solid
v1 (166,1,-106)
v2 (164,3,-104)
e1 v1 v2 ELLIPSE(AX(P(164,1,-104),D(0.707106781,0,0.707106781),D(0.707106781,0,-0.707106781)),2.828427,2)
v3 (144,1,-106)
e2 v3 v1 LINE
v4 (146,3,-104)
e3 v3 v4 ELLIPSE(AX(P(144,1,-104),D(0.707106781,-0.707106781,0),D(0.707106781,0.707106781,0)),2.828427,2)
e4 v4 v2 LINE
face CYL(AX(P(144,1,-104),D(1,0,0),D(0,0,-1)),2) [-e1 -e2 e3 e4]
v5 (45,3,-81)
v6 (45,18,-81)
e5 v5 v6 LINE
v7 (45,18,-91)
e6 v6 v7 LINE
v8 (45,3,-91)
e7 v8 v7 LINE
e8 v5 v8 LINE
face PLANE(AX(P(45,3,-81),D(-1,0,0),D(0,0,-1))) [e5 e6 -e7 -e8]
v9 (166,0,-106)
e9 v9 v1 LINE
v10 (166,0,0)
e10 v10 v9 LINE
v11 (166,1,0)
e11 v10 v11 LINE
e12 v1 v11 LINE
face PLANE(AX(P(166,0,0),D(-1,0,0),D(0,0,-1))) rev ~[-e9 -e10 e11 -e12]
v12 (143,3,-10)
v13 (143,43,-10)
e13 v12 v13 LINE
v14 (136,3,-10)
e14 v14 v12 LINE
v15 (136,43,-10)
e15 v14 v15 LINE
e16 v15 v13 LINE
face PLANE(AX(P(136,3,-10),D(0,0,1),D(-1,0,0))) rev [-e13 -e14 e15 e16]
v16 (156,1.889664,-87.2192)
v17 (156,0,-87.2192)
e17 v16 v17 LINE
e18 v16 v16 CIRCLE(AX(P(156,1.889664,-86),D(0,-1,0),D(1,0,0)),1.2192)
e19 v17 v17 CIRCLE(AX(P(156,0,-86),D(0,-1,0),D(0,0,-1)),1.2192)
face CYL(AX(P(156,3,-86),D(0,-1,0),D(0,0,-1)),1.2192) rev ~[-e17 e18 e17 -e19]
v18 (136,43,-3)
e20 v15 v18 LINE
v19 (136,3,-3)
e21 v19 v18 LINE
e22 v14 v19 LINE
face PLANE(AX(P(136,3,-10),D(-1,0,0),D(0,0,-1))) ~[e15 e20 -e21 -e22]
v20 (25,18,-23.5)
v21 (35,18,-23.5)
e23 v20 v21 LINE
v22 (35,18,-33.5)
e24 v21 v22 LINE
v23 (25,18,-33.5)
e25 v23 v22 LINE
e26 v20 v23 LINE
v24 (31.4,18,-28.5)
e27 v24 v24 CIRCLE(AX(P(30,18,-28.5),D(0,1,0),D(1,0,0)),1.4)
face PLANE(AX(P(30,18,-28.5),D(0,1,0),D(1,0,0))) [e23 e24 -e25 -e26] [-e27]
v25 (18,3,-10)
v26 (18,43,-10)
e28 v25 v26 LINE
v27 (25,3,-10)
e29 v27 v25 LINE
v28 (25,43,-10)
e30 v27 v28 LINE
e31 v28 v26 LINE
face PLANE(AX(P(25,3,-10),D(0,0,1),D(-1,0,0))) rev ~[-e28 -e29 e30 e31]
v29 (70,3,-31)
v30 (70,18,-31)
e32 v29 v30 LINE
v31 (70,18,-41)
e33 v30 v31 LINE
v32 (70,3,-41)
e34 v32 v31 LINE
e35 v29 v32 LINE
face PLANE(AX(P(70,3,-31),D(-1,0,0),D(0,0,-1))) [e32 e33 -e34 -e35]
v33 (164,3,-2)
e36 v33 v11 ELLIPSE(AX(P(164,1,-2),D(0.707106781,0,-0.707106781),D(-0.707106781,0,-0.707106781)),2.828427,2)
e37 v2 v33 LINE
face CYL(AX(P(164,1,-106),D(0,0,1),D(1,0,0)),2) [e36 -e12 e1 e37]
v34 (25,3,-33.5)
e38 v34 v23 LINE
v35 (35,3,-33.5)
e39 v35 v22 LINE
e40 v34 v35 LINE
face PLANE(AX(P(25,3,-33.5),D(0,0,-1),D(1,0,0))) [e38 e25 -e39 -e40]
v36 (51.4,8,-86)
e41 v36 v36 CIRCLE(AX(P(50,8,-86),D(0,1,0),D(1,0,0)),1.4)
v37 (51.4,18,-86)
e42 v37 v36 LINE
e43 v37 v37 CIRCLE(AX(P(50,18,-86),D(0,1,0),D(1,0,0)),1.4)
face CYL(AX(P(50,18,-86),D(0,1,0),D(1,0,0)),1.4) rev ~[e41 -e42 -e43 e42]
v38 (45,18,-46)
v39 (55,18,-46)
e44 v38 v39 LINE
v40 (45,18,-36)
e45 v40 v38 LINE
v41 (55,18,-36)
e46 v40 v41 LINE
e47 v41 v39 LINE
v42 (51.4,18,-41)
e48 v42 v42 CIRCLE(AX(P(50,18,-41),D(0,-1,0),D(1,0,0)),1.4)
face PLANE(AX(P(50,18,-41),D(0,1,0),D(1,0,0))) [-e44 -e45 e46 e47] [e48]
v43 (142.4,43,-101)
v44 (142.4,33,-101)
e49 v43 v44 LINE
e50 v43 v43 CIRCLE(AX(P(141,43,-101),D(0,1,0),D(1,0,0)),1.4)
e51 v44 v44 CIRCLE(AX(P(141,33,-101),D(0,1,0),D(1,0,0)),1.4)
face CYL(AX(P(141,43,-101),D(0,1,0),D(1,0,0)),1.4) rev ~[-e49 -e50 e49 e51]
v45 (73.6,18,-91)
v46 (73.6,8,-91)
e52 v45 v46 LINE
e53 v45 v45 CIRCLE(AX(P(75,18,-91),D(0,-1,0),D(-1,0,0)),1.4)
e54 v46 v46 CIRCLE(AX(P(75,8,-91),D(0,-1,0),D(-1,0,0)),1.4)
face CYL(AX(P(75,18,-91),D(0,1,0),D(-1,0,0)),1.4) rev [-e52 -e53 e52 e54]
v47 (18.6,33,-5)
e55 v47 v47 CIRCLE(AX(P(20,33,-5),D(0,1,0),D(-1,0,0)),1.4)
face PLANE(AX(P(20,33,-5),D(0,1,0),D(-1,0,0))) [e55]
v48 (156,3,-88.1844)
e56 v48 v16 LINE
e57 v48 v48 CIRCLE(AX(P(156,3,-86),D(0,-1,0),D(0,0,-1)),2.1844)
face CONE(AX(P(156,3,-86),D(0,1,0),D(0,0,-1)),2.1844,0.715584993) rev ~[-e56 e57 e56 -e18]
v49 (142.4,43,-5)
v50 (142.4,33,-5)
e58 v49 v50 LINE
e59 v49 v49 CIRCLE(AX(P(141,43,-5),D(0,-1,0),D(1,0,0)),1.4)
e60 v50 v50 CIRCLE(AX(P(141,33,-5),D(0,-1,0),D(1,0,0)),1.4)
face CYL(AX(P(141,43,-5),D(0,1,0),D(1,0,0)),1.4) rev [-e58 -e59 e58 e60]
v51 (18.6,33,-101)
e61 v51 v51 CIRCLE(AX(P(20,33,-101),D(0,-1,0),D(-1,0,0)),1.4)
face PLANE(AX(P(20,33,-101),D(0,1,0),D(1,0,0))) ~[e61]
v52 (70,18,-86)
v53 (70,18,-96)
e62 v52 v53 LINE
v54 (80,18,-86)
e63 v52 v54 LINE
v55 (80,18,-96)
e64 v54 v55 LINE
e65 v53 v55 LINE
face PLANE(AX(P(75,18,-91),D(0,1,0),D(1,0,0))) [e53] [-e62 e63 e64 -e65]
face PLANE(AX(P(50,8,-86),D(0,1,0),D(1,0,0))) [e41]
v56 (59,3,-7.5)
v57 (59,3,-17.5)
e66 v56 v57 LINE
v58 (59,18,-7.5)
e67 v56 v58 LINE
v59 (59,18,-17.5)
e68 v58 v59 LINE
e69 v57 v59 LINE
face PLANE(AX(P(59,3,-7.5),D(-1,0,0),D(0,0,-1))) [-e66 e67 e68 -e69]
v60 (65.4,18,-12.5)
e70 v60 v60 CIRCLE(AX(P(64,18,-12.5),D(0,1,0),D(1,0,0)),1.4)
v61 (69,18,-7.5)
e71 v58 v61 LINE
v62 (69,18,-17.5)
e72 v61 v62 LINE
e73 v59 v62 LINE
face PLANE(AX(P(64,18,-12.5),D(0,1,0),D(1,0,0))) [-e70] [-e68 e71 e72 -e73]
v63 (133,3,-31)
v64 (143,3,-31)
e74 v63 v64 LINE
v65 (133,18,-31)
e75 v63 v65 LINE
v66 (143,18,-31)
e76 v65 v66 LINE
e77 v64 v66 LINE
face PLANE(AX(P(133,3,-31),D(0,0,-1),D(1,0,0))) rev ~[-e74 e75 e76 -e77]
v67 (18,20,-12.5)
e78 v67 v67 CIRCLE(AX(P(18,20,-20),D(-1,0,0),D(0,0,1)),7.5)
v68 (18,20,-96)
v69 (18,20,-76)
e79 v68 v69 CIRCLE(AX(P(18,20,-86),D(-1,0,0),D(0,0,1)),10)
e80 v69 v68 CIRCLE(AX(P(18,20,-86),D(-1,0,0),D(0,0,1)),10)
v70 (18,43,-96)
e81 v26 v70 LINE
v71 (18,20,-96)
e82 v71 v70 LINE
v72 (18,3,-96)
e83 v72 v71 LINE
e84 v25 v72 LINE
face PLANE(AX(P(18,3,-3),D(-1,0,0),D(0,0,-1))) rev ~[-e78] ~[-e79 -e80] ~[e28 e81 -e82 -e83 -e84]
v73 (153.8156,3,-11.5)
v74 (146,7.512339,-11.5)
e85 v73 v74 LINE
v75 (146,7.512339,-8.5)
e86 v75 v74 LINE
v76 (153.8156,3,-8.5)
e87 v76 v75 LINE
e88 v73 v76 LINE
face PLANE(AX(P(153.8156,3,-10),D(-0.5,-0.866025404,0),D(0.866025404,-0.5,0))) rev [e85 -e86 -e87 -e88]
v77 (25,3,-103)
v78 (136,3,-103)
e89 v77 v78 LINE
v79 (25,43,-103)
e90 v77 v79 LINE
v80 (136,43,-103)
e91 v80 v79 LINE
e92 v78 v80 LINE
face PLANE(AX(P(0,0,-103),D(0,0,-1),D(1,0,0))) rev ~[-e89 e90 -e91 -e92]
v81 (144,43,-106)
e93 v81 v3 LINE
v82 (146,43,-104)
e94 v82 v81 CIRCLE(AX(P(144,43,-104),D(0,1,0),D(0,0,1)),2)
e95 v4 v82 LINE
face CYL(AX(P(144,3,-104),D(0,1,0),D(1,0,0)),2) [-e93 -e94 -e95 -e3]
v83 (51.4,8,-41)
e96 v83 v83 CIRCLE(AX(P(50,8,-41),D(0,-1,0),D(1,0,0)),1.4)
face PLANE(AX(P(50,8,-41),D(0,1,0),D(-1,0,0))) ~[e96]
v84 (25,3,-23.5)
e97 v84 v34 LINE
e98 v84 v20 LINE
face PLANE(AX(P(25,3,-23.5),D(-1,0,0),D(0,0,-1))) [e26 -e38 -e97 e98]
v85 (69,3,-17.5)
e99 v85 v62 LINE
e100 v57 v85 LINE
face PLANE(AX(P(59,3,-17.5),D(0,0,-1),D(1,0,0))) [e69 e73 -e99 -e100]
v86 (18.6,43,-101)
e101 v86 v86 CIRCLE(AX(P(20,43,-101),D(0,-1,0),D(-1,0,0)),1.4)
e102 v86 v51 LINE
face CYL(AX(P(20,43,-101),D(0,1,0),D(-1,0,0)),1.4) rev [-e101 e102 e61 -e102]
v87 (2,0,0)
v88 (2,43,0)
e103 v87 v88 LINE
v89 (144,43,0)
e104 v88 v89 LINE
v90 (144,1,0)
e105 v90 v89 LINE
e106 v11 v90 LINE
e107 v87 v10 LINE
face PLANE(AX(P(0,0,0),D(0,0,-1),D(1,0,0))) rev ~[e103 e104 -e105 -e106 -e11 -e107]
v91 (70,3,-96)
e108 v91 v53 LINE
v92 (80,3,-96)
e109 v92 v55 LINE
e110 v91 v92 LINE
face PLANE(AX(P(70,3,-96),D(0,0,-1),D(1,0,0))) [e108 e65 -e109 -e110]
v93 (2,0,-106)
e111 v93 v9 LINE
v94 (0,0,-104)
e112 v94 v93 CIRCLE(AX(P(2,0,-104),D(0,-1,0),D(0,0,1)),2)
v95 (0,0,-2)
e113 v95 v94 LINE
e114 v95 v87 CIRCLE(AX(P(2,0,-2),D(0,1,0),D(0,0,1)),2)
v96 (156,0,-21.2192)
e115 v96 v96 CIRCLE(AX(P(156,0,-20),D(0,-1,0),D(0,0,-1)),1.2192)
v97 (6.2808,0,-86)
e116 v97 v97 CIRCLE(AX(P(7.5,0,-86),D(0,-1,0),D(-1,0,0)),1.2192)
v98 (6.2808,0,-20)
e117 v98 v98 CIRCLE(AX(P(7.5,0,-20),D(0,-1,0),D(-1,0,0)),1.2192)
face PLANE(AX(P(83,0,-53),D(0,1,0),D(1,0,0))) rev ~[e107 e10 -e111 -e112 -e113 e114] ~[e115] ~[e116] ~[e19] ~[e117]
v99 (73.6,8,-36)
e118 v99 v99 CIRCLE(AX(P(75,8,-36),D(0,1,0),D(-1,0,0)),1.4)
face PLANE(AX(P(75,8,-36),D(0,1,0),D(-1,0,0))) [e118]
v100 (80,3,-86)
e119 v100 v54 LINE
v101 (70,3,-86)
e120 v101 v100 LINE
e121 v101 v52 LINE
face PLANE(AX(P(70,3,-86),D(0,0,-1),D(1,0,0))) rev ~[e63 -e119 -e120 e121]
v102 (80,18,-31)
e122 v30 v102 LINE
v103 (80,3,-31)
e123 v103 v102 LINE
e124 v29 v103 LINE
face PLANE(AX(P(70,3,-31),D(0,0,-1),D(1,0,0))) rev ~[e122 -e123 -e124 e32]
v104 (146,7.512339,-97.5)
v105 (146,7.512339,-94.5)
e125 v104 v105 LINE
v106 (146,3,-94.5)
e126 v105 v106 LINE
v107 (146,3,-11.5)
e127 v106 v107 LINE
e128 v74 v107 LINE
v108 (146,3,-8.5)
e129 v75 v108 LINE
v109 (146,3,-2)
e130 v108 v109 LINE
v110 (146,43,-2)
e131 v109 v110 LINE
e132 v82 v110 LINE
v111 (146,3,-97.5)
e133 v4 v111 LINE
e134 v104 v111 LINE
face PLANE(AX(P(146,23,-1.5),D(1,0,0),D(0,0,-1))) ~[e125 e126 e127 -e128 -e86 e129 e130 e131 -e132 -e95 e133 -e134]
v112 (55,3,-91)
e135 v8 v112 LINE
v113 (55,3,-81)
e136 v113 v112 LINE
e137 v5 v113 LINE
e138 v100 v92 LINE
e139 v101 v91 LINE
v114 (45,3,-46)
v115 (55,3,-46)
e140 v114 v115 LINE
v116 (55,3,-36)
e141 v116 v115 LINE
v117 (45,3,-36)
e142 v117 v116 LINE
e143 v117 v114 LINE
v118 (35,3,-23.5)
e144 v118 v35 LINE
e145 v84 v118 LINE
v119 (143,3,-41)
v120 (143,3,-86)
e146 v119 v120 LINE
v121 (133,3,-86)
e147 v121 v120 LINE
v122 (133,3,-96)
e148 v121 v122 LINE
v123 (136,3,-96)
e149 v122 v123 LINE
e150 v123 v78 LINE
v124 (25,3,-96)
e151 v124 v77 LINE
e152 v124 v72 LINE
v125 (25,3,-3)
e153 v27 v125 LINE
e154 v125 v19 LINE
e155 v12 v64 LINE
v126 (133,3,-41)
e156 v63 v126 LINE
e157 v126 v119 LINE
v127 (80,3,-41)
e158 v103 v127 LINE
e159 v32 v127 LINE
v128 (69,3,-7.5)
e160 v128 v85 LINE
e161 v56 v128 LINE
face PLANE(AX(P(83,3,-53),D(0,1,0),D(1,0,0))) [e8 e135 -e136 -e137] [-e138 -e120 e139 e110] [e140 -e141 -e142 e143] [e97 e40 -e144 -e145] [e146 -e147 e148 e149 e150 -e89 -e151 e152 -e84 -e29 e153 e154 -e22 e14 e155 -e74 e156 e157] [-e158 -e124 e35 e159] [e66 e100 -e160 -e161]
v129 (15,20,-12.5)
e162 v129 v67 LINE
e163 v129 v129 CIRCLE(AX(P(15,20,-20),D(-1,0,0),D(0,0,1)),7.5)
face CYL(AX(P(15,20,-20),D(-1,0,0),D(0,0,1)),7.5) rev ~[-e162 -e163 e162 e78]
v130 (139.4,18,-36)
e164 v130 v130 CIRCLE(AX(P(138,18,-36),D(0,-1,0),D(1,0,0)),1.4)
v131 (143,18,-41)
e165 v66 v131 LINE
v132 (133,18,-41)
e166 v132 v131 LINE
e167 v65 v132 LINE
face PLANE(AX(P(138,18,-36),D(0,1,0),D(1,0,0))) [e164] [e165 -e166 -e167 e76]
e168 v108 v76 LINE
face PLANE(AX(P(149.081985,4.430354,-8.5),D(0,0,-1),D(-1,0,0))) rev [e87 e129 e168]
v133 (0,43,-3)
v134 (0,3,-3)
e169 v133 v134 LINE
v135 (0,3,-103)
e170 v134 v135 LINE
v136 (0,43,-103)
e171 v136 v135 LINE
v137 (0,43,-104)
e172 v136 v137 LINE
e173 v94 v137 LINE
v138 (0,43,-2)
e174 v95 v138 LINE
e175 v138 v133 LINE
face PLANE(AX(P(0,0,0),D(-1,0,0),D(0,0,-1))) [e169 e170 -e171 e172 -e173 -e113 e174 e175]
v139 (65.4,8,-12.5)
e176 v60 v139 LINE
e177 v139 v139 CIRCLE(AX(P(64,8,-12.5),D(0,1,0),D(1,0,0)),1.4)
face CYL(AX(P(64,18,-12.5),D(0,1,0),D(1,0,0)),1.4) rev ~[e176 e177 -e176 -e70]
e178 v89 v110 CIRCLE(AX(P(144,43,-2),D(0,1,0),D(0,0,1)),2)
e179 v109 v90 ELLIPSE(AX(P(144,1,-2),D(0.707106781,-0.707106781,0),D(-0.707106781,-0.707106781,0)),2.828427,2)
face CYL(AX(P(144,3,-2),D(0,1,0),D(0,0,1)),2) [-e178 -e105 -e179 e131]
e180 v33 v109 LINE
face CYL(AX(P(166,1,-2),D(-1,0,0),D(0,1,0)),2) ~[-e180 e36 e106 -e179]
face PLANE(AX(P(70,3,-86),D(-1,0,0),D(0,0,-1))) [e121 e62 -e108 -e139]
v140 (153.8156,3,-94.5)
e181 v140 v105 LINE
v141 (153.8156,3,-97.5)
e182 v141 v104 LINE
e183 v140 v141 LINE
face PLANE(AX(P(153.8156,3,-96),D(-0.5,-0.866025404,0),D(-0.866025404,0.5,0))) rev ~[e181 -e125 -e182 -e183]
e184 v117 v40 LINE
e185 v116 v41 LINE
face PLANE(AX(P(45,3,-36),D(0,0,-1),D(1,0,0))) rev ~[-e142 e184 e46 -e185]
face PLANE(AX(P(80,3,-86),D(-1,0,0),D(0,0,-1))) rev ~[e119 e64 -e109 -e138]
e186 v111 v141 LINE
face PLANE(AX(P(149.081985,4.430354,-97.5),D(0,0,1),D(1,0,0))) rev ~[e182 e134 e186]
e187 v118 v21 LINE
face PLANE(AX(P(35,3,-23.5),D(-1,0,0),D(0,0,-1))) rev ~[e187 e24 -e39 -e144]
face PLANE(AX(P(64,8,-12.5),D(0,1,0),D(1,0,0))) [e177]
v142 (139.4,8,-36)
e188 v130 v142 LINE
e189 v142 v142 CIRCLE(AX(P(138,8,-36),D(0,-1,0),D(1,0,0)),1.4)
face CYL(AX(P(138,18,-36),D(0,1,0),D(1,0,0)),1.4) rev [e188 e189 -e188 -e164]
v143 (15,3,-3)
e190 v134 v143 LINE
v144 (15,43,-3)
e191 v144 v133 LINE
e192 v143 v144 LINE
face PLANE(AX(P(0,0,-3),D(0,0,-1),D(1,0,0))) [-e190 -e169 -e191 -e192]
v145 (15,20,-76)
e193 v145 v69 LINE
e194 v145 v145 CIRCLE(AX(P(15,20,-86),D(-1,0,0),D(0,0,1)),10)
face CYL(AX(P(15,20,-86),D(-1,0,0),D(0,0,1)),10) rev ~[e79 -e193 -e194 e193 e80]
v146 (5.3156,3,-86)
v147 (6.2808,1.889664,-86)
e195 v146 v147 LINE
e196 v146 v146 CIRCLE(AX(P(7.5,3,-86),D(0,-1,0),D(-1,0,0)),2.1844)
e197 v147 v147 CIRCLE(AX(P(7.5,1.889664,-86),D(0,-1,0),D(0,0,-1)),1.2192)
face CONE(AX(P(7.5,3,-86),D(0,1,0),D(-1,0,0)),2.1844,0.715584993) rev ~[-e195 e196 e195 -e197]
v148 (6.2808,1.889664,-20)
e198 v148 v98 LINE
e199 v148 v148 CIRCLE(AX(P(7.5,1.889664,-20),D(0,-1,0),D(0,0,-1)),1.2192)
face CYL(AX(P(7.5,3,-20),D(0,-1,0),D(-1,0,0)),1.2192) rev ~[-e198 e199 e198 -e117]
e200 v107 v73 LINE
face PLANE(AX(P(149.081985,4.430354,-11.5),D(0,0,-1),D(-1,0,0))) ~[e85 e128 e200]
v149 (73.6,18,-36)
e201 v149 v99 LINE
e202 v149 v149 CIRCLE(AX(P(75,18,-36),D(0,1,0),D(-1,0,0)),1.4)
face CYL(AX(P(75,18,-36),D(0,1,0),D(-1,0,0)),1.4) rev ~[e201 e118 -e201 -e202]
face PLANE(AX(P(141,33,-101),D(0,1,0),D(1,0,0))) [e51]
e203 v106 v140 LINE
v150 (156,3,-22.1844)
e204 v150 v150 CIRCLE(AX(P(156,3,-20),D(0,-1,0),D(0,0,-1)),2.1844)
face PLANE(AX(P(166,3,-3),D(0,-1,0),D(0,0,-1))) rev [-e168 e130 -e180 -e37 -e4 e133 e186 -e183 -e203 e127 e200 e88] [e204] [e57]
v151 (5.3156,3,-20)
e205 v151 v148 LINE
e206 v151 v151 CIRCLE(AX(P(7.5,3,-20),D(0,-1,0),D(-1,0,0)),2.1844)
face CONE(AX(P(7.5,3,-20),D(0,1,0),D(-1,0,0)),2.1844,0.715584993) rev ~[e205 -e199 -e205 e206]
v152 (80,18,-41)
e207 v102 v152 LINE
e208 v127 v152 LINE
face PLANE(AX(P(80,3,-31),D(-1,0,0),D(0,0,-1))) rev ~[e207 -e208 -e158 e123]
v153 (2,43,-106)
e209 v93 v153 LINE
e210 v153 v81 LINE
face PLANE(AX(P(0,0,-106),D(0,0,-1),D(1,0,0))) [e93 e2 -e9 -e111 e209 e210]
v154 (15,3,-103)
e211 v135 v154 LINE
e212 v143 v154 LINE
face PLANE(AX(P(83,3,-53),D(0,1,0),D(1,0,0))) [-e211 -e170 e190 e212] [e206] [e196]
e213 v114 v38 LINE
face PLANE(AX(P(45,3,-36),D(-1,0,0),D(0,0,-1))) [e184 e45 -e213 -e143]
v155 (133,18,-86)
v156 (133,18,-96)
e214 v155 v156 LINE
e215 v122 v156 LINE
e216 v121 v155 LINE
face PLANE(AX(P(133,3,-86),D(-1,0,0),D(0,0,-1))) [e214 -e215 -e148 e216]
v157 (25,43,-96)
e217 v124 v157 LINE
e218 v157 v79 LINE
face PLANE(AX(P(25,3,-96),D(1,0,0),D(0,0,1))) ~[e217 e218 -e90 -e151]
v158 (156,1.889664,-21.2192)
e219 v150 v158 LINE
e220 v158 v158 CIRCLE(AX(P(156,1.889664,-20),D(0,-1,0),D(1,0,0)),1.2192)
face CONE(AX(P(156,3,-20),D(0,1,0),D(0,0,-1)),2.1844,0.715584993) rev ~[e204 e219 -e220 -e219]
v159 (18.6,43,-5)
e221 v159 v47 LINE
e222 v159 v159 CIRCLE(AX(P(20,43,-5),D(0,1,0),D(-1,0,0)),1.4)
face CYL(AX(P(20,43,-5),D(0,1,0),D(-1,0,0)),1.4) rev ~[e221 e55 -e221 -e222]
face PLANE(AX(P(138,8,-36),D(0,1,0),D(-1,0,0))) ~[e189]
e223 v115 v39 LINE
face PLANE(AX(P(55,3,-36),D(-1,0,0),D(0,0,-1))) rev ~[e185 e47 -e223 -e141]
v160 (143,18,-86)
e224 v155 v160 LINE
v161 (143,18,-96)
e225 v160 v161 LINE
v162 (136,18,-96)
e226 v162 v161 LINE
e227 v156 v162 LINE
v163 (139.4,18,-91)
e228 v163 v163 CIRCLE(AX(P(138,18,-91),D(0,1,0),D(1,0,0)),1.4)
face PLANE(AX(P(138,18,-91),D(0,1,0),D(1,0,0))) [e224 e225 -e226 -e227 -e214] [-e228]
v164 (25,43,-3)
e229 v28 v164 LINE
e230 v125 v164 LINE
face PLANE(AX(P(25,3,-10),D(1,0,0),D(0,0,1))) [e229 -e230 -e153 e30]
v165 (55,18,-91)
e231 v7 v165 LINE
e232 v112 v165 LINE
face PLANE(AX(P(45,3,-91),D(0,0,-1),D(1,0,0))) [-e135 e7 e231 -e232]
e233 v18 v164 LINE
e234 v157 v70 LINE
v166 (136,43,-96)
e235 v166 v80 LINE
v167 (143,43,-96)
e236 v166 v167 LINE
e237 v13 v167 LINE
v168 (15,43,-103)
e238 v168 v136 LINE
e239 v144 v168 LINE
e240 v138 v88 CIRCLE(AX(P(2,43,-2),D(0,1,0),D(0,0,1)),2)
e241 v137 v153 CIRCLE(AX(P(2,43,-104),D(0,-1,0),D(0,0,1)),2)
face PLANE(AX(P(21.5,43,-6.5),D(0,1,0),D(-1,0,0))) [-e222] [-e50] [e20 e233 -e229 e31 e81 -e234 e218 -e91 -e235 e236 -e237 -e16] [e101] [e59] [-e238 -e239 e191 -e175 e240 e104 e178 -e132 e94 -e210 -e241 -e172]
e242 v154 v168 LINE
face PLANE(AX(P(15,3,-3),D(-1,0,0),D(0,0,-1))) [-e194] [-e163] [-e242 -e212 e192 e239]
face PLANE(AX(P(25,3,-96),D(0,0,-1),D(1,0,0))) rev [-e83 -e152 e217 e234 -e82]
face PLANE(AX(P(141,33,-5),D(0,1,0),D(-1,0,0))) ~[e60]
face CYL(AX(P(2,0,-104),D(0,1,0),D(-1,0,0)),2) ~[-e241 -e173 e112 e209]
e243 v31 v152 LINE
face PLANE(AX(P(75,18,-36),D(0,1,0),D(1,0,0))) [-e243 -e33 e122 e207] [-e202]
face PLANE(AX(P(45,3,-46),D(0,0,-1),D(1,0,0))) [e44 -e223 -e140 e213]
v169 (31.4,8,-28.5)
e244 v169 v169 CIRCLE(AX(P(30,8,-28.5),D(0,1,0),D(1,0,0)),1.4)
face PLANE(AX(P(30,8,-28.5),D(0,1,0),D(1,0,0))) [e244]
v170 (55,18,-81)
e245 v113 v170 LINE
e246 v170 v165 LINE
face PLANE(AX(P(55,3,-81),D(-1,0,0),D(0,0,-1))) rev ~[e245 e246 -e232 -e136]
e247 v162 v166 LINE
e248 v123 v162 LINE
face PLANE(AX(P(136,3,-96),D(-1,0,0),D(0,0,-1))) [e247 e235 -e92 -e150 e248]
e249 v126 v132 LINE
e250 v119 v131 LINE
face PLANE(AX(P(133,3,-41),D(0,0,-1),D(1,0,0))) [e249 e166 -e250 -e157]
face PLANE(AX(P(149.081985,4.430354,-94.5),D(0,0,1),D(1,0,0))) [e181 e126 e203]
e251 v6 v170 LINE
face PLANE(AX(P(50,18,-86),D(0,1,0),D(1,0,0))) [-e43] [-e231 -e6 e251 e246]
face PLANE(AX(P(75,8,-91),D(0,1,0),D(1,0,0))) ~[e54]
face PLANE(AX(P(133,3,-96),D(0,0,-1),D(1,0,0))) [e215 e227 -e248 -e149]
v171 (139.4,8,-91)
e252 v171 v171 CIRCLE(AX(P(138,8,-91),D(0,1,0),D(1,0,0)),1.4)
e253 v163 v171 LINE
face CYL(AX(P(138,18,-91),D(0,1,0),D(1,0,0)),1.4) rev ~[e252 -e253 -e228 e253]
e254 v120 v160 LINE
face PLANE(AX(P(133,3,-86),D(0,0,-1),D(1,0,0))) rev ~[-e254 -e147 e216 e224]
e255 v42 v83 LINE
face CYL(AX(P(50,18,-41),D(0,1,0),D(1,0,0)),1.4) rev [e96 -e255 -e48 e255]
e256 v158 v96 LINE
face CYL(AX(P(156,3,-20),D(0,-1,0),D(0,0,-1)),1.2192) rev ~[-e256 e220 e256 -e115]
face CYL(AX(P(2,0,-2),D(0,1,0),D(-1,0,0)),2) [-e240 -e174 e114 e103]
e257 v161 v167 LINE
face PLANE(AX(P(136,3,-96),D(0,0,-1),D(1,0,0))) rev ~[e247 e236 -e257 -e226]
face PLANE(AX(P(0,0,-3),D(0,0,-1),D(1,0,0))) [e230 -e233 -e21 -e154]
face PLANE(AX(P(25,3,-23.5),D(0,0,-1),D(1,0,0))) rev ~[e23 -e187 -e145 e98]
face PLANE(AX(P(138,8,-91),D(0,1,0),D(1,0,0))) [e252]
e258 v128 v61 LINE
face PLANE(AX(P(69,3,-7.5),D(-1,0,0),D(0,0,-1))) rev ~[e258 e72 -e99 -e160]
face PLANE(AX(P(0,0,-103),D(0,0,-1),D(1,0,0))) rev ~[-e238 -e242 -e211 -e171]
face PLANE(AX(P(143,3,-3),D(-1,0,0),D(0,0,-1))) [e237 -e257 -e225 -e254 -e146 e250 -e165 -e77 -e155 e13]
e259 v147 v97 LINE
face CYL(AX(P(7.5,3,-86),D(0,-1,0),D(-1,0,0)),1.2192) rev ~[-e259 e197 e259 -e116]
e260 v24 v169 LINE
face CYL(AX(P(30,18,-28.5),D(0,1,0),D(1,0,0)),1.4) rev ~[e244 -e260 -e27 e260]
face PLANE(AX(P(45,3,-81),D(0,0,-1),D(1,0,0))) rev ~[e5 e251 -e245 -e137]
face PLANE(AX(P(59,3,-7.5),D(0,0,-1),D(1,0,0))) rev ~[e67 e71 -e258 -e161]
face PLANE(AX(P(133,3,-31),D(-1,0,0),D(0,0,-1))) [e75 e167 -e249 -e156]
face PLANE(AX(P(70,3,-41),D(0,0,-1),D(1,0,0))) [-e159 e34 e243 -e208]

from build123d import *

# Parameters (mm, degrees)
SKETCH1_W                                      = 166
SKETCH1_H                                      = 106
BOSS_EXTRUDE1_DEPTH                            = 43
SHELL1_T                                       = -3
SKETCH2_W                                      = 3
SKETCH2_H                                      = 100
BOSS_EXTRUDE2_DEPTH                            = 40
SKETCH3_R                                      = 10
CUT_EXTRUDE1_DEPTH                             = 3
SKETCH4_R                                      = 7.5
CUT_EXTRUDE3_DEPTH                             = 3
SKETCH5_W                                      = 3
SKETCH5_H                                      = 100
BOSS_EXTRUDE4_DEPTH                            = 40
SKETCH6_W                                      = 3
SKETCH6_H                                      = 40
CUT_EXTRUDE4_DEPTH                             = 20
CSK_FOR_2_FLAT_HEAD_MACHINE_SCREW1_D           = 2.4384
CSK_FOR_2_FLAT_HEAD_MACHINE_SCREW1_CSINK_D     = 4.3688
CSK_FOR_2_FLAT_HEAD_MACHINE_SCREW1_CSINK_ANGLE = 82
CSK_FOR_2_FLAT_HEAD_MACHINE_SCREW2_D           = 2.4384
CSK_FOR_2_FLAT_HEAD_MACHINE_SCREW2_CSINK_D     = 4.3688
CSK_FOR_2_FLAT_HEAD_MACHINE_SCREW2_CSINK_ANGLE = 82
BOSS_EXTRUDE6_DEPTH                            = 1.5
SKETCH17_W                                     = 7
SKETCH17_H                                     = 7
BOSS_EXTRUDE7_DEPTH                            = 40
SKETCH20_W                                     = 10
SKETCH20_H                                     = 10
BOSS_EXTRUDE8_DEPTH                            = 15
SKETCH21_W                                     = 10
SKETCH21_H                                     = 10
BOSS_EXTRUDE9_DEPTH                            = 15
SKETCH22_W                                     = 10
SKETCH22_H                                     = 10
BOSS_EXTRUDE10_DEPTH                           = 15
SKETCH23_W                                     = 10
SKETCH23_H                                     = 10
BOSS_EXTRUDE11_DEPTH                           = 15
SKETCH24_W                                     = 10
SKETCH24_H                                     = 10
BOSS_EXTRUDE12_DEPTH                           = 15
SKETCH25_W                                     = 10
SKETCH25_H                                     = 10
BOSS_EXTRUDE13_DEPTH                           = 15
SKETCH26_W                                     = 10
SKETCH26_H                                     = 10
BOSS_EXTRUDE14_DEPTH                           = 15
SKETCH27_W                                     = 10
SKETCH27_H                                     = 10
BOSS_EXTRUDE15_DEPTH                           = 15
SKETCH28_R                                     = 1.4
CUT_EXTRUDE5_DEPTH                             = 10
MIRROR4_COPY_1_SKETCH_W                        = 7
MIRROR4_COPY_1_SKETCH_H                        = 7
MIRROR4_COPY_1_DEPTH                           = 40
MIRROR4_COPY_2_SKETCH_R                        = 1.4
MIRROR4_COPY_2_DEPTH                           = 10
FILLET2_R                                      = 2
FILLET3_R                                      = 2
SKETCH29_R                                     = 1.4
CUT_EXTRUDE6_DEPTH                             = 10
MIRROR6_COPY_1_SKETCH_R                        = 1.4
MIRROR6_COPY_1_DEPTH                           = 10
SKETCH30_R                                     = 1.4
CUT_EXTRUDE7_DEPTH                             = 10
SKETCH31_R                                     = 1.4
CUT_EXTRUDE8_DEPTH                             = 10
SKETCH32_R                                     = 1.4
CUT_EXTRUDE9_DEPTH                             = 10


with BuildPart() as part:
    # Sketch1 → Boss-Extrude1 (new body)
    with BuildSketch(Plane(origin=(0, 0, 0), x_dir=(1, 0, 0), z_dir=(0, 1, 0))):
        with Locations((83, 53)):
            Rectangle(SKETCH1_W, SKETCH1_H)
    extrude(amount=BOSS_EXTRUDE1_DEPTH)

    # Shell1
    shell1_openings = [part.faces().sort_by_distance(p)[0] for p in [
        (83, 43, -53),
        (166, 21.5, -53),
        (0, 21.5, -53),
    ]]
    offset(amount=SHELL1_T, openings=shell1_openings, kind=Kind.INTERSECTION)

    # Sketch2 → Boss-Extrude2 (add)
    with BuildSketch(Plane(origin=(0, 3, 0), x_dir=(1, 0, 0), z_dir=(0, 1, 0))):
        with Locations((16.5, 53)):
            Rectangle(SKETCH2_W, SKETCH2_H)
    extrude(amount=BOSS_EXTRUDE2_DEPTH)

    # Sketch3 → Cut-Extrude1 (cut)
    with BuildSketch(Plane.ZY.offset(-15)):
        with Locations((-86, 20)):
            Circle(SKETCH3_R)
    extrude(amount=-CUT_EXTRUDE1_DEPTH, mode=Mode.SUBTRACT)

    # Sketch4 → Cut-Extrude3 (cut)
    with BuildSketch(Plane.ZY.offset(-15)):
        with Locations((-20, 20)):
            Circle(SKETCH4_R)
    extrude(amount=-CUT_EXTRUDE3_DEPTH, mode=Mode.SUBTRACT)

    # Sketch5 → Boss-Extrude4 (add)
    with BuildSketch(Plane(origin=(0, 3, 0), x_dir=(1, 0, 0), z_dir=(0, 1, 0))):
        with Locations((144.5, 53)):
            Rectangle(SKETCH5_W, SKETCH5_H)
    extrude(amount=BOSS_EXTRUDE4_DEPTH)

    # Sketch6 → Cut-Extrude4 (cut)
    with BuildSketch(Plane(origin=(166, 0, 0), x_dir=(0, 0, -1), z_dir=(1, 0, 0))):
        with Locations((104.5, 23)):
            Rectangle(SKETCH6_W, SKETCH6_H)
    cut_extrude4 = extrude(amount=-CUT_EXTRUDE4_DEPTH, mode=Mode.SUBTRACT)

    # Mirror1: Cut-Extrude4 across plane
    add(cut_extrude4.mirror(Plane(origin=(0, 0, -53), x_dir=(1, 0, 0), z_dir=(0, 0, -1))), mode=Mode.SUBTRACT)

    # CSK for #2 Flat Head Machine Screw1 (through all)
    with Locations(Plane(origin=(156, 3, -86), x_dir=(0, 0, 1), z_dir=(0, 1, 0))):
        with Locations((0, 0), (66, 0)):
            CounterSinkHole(CSK_FOR_2_FLAT_HEAD_MACHINE_SCREW1_D / 2, CSK_FOR_2_FLAT_HEAD_MACHINE_SCREW1_CSINK_D / 2, counter_sink_angle=CSK_FOR_2_FLAT_HEAD_MACHINE_SCREW1_CSINK_ANGLE)

    # CSK for #2 Flat Head Machine Screw2 (through all)
    with Locations(Plane(origin=(0, 3, 0), x_dir=(1, 0, 0), z_dir=(0, 1, 0))):
        with Locations((7.5, 20), (7.5, 86)):
            CounterSinkHole(CSK_FOR_2_FLAT_HEAD_MACHINE_SCREW2_D / 2, CSK_FOR_2_FLAT_HEAD_MACHINE_SCREW2_CSINK_D / 2, counter_sink_angle=CSK_FOR_2_FLAT_HEAD_MACHINE_SCREW2_CSINK_ANGLE)

    # Sketch16 → Boss-Extrude6 (add, symmetric)
    with BuildSketch(Plane(origin=(0, 0, -96), x_dir=(-1, 0, 0), z_dir=(0, 0, -1))):
        Polygon((-153.8156, 3), (-146, 7.512338764), (-146, 3), align=None)
    boss_extrude6 = extrude(amount=BOSS_EXTRUDE6_DEPTH, both=True)

    # Mirror2: Boss-Extrude6 across plane
    add(boss_extrude6.mirror(Plane(origin=(0, 0, -53), x_dir=(1, 0, 0), z_dir=(0, 0, -1))))

    # Sketch17 → Boss-Extrude7 (add)
    with BuildSketch(Plane(origin=(0, 3, 0), x_dir=(1, 0, 0), z_dir=(0, 1, 0))):
        with Locations((139.5, 99.5)):
            Rectangle(SKETCH17_W, SKETCH17_H)
    boss_extrude7 = extrude(amount=BOSS_EXTRUDE7_DEPTH)

    # Sketch20 → Boss-Extrude8 (add)
    with BuildSketch(Plane(origin=(0, 3, 0), x_dir=(1, 0, 0), z_dir=(0, 1, 0))):
        with Locations((138, 91)):
            Rectangle(SKETCH20_W, SKETCH20_H)
    extrude(amount=BOSS_EXTRUDE8_DEPTH)

    # Sketch21 → Boss-Extrude9 (add)
    with BuildSketch(Plane(origin=(0, 3, 0), x_dir=(1, 0, 0), z_dir=(0, 1, 0))):
        with Locations((30, 28.5)):
            Rectangle(SKETCH21_W, SKETCH21_H)
    extrude(amount=BOSS_EXTRUDE9_DEPTH)

    # Sketch22 → Boss-Extrude10 (add)
    with BuildSketch(Plane(origin=(0, 3, 0), x_dir=(1, 0, 0), z_dir=(0, 1, 0))):
        with Locations((64, 12.5)):
            Rectangle(SKETCH22_W, SKETCH22_H)
    extrude(amount=BOSS_EXTRUDE10_DEPTH)

    # Sketch23 → Boss-Extrude11 (add)
    with BuildSketch(Plane(origin=(0, 3, 0), x_dir=(1, 0, 0), z_dir=(0, 1, 0))):
        with Locations((50, 86)):
            Rectangle(SKETCH23_W, SKETCH23_H)
    extrude(amount=BOSS_EXTRUDE11_DEPTH)

    # Sketch24 → Boss-Extrude12 (add)
    with BuildSketch(Plane(origin=(0, 3, 0), x_dir=(1, 0, 0), z_dir=(0, 1, 0))):
        with Locations((50, 41)):
            Rectangle(SKETCH24_W, SKETCH24_H)
    extrude(amount=BOSS_EXTRUDE12_DEPTH)

    # Sketch25 → Boss-Extrude13 (add)
    with BuildSketch(Plane(origin=(0, 3, 0), x_dir=(1, 0, 0), z_dir=(0, 1, 0))):
        with Locations((138, 36)):
            Rectangle(SKETCH25_W, SKETCH25_H)
    extrude(amount=BOSS_EXTRUDE13_DEPTH)

    # Sketch26 → Boss-Extrude14 (add)
    with BuildSketch(Plane(origin=(0, 3, 0), x_dir=(1, 0, 0), z_dir=(0, 1, 0))):
        with Locations((75, 91)):
            Rectangle(SKETCH26_W, SKETCH26_H)
    extrude(amount=BOSS_EXTRUDE14_DEPTH)

    # Sketch27 → Boss-Extrude15 (add)
    with BuildSketch(Plane(origin=(0, 3, 0), x_dir=(1, 0, 0), z_dir=(0, 1, 0))):
        with Locations((75, 36)):
            Rectangle(SKETCH27_W, SKETCH27_H)
    extrude(amount=BOSS_EXTRUDE15_DEPTH)

    # Sketch28 → Cut-Extrude5 (cut)
    with BuildSketch(Plane(origin=(0, 43, 0), x_dir=(1, 0, 0), z_dir=(0, 1, 0))):
        with Locations((141, 101)):
            Circle(SKETCH28_R)
    cut_extrude5 = extrude(amount=-CUT_EXTRUDE5_DEPTH, mode=Mode.SUBTRACT)

    # Mirror3: Boss-Extrude7, Cut-Extrude5 across plane
    add(boss_extrude7.mirror(Plane(origin=(0, 0, -53), x_dir=(1, 0, 0), z_dir=(0, 0, -1))))
    add(cut_extrude5.mirror(Plane(origin=(0, 0, -53), x_dir=(1, 0, 0), z_dir=(0, 0, -1))), mode=Mode.SUBTRACT)

    # Mirror4: Boss-Extrude7, Cut-Extrude5 across plane
    add(boss_extrude7.mirror(Plane.ZY.offset(-80.5)))
    add(cut_extrude5.mirror(Plane.ZY.offset(-80.5)), mode=Mode.SUBTRACT)

    # Mirror4 copy 1 sketch → Mirror4 copy 1 (add)
    with BuildSketch(Plane(origin=(161, 3, -106), x_dir=(-1, 0, 0), z_dir=(0, 1, 0))):
        with Locations((139.5, 99.5)):
            Rectangle(MIRROR4_COPY_1_SKETCH_W, MIRROR4_COPY_1_SKETCH_H)
    extrude(amount=MIRROR4_COPY_1_DEPTH)

    # Mirror4 copy 2 sketch → Mirror4 copy 2 (cut)
    with BuildSketch(Plane(origin=(161, 43, -106), x_dir=(-1, 0, 0), z_dir=(0, 1, 0))):
        with Locations((141, 101)):
            Circle(MIRROR4_COPY_2_SKETCH_R)
    extrude(amount=-MIRROR4_COPY_2_DEPTH, mode=Mode.SUBTRACT)

    # Fillet2
    fillet2_edges = [part.edges().sort_by_distance(p)[0] for p in [
        (146, 23, -106),
        (0, 21.5, -106),
        (0, 21.5, 0),
        (146, 23, 0),
    ]]
    fillet(fillet2_edges, radius=FILLET2_R)

    # Fillet3
    fillet3_edges = [part.edges().sort_by_distance(p)[0] for p in [
        (156, 3, 0),
        (156, 3, -106),
        (166, 3, -53),
    ]]
    fillet(fillet3_edges, radius=FILLET3_R)

    # Sketch29 → Cut-Extrude6 (cut)
    with BuildSketch(Plane(origin=(0, 18, 0), x_dir=(1, 0, 0), z_dir=(0, 1, 0))):
        with Locations((138, 91)):
            Circle(SKETCH29_R)
    cut_extrude6 = extrude(amount=-CUT_EXTRUDE6_DEPTH, mode=Mode.SUBTRACT)

    # Mirror5: Cut-Extrude6 across plane
    add(cut_extrude6.mirror(Plane(origin=(0, 0, -63.5), x_dir=(1, 0, 0), z_dir=(0, 0, -1))), mode=Mode.SUBTRACT)

    # Mirror6: Cut-Extrude6 across plane
    add(cut_extrude6.mirror(Plane.ZY.offset(-106.5)), mode=Mode.SUBTRACT)

    # Mirror6 copy 1 sketch → Mirror6 copy 1 (cut)
    with BuildSketch(Plane(origin=(213, 18, -127), x_dir=(-1, 0, 0), z_dir=(0, 1, 0))):
        with Locations((138, 91)):
            Circle(MIRROR6_COPY_1_SKETCH_R)
    extrude(amount=-MIRROR6_COPY_1_DEPTH, mode=Mode.SUBTRACT)

    # Sketch30 → Cut-Extrude7 (cut)
    with BuildSketch(Plane(origin=(0, 18, 0), x_dir=(1, 0, 0), z_dir=(0, 1, 0))):
        with Locations((50, 86)):
            Circle(SKETCH30_R)
    cut_extrude7 = extrude(amount=-CUT_EXTRUDE7_DEPTH, mode=Mode.SUBTRACT)

    # Mirror7: Cut-Extrude7 across plane
    add(cut_extrude7.mirror(Plane.XY.offset(-63.5)), mode=Mode.SUBTRACT)

    # Sketch31 → Cut-Extrude8 (cut)
    with BuildSketch(Plane(origin=(0, 18, 0), x_dir=(1, 0, 0), z_dir=(0, 1, 0))):
        with Locations((64, 12.5)):
            Circle(SKETCH31_R)
    extrude(amount=-CUT_EXTRUDE8_DEPTH, mode=Mode.SUBTRACT)

    # Sketch32 → Cut-Extrude9 (cut)
    with BuildSketch(Plane(origin=(0, 18, 0), x_dir=(1, 0, 0), z_dir=(0, 1, 0))):
        with Locations((30, 28.5)):
            Circle(SKETCH32_R)
    extrude(amount=-CUT_EXTRUDE9_DEPTH, mode=Mode.SUBTRACT)


solid = part.part
